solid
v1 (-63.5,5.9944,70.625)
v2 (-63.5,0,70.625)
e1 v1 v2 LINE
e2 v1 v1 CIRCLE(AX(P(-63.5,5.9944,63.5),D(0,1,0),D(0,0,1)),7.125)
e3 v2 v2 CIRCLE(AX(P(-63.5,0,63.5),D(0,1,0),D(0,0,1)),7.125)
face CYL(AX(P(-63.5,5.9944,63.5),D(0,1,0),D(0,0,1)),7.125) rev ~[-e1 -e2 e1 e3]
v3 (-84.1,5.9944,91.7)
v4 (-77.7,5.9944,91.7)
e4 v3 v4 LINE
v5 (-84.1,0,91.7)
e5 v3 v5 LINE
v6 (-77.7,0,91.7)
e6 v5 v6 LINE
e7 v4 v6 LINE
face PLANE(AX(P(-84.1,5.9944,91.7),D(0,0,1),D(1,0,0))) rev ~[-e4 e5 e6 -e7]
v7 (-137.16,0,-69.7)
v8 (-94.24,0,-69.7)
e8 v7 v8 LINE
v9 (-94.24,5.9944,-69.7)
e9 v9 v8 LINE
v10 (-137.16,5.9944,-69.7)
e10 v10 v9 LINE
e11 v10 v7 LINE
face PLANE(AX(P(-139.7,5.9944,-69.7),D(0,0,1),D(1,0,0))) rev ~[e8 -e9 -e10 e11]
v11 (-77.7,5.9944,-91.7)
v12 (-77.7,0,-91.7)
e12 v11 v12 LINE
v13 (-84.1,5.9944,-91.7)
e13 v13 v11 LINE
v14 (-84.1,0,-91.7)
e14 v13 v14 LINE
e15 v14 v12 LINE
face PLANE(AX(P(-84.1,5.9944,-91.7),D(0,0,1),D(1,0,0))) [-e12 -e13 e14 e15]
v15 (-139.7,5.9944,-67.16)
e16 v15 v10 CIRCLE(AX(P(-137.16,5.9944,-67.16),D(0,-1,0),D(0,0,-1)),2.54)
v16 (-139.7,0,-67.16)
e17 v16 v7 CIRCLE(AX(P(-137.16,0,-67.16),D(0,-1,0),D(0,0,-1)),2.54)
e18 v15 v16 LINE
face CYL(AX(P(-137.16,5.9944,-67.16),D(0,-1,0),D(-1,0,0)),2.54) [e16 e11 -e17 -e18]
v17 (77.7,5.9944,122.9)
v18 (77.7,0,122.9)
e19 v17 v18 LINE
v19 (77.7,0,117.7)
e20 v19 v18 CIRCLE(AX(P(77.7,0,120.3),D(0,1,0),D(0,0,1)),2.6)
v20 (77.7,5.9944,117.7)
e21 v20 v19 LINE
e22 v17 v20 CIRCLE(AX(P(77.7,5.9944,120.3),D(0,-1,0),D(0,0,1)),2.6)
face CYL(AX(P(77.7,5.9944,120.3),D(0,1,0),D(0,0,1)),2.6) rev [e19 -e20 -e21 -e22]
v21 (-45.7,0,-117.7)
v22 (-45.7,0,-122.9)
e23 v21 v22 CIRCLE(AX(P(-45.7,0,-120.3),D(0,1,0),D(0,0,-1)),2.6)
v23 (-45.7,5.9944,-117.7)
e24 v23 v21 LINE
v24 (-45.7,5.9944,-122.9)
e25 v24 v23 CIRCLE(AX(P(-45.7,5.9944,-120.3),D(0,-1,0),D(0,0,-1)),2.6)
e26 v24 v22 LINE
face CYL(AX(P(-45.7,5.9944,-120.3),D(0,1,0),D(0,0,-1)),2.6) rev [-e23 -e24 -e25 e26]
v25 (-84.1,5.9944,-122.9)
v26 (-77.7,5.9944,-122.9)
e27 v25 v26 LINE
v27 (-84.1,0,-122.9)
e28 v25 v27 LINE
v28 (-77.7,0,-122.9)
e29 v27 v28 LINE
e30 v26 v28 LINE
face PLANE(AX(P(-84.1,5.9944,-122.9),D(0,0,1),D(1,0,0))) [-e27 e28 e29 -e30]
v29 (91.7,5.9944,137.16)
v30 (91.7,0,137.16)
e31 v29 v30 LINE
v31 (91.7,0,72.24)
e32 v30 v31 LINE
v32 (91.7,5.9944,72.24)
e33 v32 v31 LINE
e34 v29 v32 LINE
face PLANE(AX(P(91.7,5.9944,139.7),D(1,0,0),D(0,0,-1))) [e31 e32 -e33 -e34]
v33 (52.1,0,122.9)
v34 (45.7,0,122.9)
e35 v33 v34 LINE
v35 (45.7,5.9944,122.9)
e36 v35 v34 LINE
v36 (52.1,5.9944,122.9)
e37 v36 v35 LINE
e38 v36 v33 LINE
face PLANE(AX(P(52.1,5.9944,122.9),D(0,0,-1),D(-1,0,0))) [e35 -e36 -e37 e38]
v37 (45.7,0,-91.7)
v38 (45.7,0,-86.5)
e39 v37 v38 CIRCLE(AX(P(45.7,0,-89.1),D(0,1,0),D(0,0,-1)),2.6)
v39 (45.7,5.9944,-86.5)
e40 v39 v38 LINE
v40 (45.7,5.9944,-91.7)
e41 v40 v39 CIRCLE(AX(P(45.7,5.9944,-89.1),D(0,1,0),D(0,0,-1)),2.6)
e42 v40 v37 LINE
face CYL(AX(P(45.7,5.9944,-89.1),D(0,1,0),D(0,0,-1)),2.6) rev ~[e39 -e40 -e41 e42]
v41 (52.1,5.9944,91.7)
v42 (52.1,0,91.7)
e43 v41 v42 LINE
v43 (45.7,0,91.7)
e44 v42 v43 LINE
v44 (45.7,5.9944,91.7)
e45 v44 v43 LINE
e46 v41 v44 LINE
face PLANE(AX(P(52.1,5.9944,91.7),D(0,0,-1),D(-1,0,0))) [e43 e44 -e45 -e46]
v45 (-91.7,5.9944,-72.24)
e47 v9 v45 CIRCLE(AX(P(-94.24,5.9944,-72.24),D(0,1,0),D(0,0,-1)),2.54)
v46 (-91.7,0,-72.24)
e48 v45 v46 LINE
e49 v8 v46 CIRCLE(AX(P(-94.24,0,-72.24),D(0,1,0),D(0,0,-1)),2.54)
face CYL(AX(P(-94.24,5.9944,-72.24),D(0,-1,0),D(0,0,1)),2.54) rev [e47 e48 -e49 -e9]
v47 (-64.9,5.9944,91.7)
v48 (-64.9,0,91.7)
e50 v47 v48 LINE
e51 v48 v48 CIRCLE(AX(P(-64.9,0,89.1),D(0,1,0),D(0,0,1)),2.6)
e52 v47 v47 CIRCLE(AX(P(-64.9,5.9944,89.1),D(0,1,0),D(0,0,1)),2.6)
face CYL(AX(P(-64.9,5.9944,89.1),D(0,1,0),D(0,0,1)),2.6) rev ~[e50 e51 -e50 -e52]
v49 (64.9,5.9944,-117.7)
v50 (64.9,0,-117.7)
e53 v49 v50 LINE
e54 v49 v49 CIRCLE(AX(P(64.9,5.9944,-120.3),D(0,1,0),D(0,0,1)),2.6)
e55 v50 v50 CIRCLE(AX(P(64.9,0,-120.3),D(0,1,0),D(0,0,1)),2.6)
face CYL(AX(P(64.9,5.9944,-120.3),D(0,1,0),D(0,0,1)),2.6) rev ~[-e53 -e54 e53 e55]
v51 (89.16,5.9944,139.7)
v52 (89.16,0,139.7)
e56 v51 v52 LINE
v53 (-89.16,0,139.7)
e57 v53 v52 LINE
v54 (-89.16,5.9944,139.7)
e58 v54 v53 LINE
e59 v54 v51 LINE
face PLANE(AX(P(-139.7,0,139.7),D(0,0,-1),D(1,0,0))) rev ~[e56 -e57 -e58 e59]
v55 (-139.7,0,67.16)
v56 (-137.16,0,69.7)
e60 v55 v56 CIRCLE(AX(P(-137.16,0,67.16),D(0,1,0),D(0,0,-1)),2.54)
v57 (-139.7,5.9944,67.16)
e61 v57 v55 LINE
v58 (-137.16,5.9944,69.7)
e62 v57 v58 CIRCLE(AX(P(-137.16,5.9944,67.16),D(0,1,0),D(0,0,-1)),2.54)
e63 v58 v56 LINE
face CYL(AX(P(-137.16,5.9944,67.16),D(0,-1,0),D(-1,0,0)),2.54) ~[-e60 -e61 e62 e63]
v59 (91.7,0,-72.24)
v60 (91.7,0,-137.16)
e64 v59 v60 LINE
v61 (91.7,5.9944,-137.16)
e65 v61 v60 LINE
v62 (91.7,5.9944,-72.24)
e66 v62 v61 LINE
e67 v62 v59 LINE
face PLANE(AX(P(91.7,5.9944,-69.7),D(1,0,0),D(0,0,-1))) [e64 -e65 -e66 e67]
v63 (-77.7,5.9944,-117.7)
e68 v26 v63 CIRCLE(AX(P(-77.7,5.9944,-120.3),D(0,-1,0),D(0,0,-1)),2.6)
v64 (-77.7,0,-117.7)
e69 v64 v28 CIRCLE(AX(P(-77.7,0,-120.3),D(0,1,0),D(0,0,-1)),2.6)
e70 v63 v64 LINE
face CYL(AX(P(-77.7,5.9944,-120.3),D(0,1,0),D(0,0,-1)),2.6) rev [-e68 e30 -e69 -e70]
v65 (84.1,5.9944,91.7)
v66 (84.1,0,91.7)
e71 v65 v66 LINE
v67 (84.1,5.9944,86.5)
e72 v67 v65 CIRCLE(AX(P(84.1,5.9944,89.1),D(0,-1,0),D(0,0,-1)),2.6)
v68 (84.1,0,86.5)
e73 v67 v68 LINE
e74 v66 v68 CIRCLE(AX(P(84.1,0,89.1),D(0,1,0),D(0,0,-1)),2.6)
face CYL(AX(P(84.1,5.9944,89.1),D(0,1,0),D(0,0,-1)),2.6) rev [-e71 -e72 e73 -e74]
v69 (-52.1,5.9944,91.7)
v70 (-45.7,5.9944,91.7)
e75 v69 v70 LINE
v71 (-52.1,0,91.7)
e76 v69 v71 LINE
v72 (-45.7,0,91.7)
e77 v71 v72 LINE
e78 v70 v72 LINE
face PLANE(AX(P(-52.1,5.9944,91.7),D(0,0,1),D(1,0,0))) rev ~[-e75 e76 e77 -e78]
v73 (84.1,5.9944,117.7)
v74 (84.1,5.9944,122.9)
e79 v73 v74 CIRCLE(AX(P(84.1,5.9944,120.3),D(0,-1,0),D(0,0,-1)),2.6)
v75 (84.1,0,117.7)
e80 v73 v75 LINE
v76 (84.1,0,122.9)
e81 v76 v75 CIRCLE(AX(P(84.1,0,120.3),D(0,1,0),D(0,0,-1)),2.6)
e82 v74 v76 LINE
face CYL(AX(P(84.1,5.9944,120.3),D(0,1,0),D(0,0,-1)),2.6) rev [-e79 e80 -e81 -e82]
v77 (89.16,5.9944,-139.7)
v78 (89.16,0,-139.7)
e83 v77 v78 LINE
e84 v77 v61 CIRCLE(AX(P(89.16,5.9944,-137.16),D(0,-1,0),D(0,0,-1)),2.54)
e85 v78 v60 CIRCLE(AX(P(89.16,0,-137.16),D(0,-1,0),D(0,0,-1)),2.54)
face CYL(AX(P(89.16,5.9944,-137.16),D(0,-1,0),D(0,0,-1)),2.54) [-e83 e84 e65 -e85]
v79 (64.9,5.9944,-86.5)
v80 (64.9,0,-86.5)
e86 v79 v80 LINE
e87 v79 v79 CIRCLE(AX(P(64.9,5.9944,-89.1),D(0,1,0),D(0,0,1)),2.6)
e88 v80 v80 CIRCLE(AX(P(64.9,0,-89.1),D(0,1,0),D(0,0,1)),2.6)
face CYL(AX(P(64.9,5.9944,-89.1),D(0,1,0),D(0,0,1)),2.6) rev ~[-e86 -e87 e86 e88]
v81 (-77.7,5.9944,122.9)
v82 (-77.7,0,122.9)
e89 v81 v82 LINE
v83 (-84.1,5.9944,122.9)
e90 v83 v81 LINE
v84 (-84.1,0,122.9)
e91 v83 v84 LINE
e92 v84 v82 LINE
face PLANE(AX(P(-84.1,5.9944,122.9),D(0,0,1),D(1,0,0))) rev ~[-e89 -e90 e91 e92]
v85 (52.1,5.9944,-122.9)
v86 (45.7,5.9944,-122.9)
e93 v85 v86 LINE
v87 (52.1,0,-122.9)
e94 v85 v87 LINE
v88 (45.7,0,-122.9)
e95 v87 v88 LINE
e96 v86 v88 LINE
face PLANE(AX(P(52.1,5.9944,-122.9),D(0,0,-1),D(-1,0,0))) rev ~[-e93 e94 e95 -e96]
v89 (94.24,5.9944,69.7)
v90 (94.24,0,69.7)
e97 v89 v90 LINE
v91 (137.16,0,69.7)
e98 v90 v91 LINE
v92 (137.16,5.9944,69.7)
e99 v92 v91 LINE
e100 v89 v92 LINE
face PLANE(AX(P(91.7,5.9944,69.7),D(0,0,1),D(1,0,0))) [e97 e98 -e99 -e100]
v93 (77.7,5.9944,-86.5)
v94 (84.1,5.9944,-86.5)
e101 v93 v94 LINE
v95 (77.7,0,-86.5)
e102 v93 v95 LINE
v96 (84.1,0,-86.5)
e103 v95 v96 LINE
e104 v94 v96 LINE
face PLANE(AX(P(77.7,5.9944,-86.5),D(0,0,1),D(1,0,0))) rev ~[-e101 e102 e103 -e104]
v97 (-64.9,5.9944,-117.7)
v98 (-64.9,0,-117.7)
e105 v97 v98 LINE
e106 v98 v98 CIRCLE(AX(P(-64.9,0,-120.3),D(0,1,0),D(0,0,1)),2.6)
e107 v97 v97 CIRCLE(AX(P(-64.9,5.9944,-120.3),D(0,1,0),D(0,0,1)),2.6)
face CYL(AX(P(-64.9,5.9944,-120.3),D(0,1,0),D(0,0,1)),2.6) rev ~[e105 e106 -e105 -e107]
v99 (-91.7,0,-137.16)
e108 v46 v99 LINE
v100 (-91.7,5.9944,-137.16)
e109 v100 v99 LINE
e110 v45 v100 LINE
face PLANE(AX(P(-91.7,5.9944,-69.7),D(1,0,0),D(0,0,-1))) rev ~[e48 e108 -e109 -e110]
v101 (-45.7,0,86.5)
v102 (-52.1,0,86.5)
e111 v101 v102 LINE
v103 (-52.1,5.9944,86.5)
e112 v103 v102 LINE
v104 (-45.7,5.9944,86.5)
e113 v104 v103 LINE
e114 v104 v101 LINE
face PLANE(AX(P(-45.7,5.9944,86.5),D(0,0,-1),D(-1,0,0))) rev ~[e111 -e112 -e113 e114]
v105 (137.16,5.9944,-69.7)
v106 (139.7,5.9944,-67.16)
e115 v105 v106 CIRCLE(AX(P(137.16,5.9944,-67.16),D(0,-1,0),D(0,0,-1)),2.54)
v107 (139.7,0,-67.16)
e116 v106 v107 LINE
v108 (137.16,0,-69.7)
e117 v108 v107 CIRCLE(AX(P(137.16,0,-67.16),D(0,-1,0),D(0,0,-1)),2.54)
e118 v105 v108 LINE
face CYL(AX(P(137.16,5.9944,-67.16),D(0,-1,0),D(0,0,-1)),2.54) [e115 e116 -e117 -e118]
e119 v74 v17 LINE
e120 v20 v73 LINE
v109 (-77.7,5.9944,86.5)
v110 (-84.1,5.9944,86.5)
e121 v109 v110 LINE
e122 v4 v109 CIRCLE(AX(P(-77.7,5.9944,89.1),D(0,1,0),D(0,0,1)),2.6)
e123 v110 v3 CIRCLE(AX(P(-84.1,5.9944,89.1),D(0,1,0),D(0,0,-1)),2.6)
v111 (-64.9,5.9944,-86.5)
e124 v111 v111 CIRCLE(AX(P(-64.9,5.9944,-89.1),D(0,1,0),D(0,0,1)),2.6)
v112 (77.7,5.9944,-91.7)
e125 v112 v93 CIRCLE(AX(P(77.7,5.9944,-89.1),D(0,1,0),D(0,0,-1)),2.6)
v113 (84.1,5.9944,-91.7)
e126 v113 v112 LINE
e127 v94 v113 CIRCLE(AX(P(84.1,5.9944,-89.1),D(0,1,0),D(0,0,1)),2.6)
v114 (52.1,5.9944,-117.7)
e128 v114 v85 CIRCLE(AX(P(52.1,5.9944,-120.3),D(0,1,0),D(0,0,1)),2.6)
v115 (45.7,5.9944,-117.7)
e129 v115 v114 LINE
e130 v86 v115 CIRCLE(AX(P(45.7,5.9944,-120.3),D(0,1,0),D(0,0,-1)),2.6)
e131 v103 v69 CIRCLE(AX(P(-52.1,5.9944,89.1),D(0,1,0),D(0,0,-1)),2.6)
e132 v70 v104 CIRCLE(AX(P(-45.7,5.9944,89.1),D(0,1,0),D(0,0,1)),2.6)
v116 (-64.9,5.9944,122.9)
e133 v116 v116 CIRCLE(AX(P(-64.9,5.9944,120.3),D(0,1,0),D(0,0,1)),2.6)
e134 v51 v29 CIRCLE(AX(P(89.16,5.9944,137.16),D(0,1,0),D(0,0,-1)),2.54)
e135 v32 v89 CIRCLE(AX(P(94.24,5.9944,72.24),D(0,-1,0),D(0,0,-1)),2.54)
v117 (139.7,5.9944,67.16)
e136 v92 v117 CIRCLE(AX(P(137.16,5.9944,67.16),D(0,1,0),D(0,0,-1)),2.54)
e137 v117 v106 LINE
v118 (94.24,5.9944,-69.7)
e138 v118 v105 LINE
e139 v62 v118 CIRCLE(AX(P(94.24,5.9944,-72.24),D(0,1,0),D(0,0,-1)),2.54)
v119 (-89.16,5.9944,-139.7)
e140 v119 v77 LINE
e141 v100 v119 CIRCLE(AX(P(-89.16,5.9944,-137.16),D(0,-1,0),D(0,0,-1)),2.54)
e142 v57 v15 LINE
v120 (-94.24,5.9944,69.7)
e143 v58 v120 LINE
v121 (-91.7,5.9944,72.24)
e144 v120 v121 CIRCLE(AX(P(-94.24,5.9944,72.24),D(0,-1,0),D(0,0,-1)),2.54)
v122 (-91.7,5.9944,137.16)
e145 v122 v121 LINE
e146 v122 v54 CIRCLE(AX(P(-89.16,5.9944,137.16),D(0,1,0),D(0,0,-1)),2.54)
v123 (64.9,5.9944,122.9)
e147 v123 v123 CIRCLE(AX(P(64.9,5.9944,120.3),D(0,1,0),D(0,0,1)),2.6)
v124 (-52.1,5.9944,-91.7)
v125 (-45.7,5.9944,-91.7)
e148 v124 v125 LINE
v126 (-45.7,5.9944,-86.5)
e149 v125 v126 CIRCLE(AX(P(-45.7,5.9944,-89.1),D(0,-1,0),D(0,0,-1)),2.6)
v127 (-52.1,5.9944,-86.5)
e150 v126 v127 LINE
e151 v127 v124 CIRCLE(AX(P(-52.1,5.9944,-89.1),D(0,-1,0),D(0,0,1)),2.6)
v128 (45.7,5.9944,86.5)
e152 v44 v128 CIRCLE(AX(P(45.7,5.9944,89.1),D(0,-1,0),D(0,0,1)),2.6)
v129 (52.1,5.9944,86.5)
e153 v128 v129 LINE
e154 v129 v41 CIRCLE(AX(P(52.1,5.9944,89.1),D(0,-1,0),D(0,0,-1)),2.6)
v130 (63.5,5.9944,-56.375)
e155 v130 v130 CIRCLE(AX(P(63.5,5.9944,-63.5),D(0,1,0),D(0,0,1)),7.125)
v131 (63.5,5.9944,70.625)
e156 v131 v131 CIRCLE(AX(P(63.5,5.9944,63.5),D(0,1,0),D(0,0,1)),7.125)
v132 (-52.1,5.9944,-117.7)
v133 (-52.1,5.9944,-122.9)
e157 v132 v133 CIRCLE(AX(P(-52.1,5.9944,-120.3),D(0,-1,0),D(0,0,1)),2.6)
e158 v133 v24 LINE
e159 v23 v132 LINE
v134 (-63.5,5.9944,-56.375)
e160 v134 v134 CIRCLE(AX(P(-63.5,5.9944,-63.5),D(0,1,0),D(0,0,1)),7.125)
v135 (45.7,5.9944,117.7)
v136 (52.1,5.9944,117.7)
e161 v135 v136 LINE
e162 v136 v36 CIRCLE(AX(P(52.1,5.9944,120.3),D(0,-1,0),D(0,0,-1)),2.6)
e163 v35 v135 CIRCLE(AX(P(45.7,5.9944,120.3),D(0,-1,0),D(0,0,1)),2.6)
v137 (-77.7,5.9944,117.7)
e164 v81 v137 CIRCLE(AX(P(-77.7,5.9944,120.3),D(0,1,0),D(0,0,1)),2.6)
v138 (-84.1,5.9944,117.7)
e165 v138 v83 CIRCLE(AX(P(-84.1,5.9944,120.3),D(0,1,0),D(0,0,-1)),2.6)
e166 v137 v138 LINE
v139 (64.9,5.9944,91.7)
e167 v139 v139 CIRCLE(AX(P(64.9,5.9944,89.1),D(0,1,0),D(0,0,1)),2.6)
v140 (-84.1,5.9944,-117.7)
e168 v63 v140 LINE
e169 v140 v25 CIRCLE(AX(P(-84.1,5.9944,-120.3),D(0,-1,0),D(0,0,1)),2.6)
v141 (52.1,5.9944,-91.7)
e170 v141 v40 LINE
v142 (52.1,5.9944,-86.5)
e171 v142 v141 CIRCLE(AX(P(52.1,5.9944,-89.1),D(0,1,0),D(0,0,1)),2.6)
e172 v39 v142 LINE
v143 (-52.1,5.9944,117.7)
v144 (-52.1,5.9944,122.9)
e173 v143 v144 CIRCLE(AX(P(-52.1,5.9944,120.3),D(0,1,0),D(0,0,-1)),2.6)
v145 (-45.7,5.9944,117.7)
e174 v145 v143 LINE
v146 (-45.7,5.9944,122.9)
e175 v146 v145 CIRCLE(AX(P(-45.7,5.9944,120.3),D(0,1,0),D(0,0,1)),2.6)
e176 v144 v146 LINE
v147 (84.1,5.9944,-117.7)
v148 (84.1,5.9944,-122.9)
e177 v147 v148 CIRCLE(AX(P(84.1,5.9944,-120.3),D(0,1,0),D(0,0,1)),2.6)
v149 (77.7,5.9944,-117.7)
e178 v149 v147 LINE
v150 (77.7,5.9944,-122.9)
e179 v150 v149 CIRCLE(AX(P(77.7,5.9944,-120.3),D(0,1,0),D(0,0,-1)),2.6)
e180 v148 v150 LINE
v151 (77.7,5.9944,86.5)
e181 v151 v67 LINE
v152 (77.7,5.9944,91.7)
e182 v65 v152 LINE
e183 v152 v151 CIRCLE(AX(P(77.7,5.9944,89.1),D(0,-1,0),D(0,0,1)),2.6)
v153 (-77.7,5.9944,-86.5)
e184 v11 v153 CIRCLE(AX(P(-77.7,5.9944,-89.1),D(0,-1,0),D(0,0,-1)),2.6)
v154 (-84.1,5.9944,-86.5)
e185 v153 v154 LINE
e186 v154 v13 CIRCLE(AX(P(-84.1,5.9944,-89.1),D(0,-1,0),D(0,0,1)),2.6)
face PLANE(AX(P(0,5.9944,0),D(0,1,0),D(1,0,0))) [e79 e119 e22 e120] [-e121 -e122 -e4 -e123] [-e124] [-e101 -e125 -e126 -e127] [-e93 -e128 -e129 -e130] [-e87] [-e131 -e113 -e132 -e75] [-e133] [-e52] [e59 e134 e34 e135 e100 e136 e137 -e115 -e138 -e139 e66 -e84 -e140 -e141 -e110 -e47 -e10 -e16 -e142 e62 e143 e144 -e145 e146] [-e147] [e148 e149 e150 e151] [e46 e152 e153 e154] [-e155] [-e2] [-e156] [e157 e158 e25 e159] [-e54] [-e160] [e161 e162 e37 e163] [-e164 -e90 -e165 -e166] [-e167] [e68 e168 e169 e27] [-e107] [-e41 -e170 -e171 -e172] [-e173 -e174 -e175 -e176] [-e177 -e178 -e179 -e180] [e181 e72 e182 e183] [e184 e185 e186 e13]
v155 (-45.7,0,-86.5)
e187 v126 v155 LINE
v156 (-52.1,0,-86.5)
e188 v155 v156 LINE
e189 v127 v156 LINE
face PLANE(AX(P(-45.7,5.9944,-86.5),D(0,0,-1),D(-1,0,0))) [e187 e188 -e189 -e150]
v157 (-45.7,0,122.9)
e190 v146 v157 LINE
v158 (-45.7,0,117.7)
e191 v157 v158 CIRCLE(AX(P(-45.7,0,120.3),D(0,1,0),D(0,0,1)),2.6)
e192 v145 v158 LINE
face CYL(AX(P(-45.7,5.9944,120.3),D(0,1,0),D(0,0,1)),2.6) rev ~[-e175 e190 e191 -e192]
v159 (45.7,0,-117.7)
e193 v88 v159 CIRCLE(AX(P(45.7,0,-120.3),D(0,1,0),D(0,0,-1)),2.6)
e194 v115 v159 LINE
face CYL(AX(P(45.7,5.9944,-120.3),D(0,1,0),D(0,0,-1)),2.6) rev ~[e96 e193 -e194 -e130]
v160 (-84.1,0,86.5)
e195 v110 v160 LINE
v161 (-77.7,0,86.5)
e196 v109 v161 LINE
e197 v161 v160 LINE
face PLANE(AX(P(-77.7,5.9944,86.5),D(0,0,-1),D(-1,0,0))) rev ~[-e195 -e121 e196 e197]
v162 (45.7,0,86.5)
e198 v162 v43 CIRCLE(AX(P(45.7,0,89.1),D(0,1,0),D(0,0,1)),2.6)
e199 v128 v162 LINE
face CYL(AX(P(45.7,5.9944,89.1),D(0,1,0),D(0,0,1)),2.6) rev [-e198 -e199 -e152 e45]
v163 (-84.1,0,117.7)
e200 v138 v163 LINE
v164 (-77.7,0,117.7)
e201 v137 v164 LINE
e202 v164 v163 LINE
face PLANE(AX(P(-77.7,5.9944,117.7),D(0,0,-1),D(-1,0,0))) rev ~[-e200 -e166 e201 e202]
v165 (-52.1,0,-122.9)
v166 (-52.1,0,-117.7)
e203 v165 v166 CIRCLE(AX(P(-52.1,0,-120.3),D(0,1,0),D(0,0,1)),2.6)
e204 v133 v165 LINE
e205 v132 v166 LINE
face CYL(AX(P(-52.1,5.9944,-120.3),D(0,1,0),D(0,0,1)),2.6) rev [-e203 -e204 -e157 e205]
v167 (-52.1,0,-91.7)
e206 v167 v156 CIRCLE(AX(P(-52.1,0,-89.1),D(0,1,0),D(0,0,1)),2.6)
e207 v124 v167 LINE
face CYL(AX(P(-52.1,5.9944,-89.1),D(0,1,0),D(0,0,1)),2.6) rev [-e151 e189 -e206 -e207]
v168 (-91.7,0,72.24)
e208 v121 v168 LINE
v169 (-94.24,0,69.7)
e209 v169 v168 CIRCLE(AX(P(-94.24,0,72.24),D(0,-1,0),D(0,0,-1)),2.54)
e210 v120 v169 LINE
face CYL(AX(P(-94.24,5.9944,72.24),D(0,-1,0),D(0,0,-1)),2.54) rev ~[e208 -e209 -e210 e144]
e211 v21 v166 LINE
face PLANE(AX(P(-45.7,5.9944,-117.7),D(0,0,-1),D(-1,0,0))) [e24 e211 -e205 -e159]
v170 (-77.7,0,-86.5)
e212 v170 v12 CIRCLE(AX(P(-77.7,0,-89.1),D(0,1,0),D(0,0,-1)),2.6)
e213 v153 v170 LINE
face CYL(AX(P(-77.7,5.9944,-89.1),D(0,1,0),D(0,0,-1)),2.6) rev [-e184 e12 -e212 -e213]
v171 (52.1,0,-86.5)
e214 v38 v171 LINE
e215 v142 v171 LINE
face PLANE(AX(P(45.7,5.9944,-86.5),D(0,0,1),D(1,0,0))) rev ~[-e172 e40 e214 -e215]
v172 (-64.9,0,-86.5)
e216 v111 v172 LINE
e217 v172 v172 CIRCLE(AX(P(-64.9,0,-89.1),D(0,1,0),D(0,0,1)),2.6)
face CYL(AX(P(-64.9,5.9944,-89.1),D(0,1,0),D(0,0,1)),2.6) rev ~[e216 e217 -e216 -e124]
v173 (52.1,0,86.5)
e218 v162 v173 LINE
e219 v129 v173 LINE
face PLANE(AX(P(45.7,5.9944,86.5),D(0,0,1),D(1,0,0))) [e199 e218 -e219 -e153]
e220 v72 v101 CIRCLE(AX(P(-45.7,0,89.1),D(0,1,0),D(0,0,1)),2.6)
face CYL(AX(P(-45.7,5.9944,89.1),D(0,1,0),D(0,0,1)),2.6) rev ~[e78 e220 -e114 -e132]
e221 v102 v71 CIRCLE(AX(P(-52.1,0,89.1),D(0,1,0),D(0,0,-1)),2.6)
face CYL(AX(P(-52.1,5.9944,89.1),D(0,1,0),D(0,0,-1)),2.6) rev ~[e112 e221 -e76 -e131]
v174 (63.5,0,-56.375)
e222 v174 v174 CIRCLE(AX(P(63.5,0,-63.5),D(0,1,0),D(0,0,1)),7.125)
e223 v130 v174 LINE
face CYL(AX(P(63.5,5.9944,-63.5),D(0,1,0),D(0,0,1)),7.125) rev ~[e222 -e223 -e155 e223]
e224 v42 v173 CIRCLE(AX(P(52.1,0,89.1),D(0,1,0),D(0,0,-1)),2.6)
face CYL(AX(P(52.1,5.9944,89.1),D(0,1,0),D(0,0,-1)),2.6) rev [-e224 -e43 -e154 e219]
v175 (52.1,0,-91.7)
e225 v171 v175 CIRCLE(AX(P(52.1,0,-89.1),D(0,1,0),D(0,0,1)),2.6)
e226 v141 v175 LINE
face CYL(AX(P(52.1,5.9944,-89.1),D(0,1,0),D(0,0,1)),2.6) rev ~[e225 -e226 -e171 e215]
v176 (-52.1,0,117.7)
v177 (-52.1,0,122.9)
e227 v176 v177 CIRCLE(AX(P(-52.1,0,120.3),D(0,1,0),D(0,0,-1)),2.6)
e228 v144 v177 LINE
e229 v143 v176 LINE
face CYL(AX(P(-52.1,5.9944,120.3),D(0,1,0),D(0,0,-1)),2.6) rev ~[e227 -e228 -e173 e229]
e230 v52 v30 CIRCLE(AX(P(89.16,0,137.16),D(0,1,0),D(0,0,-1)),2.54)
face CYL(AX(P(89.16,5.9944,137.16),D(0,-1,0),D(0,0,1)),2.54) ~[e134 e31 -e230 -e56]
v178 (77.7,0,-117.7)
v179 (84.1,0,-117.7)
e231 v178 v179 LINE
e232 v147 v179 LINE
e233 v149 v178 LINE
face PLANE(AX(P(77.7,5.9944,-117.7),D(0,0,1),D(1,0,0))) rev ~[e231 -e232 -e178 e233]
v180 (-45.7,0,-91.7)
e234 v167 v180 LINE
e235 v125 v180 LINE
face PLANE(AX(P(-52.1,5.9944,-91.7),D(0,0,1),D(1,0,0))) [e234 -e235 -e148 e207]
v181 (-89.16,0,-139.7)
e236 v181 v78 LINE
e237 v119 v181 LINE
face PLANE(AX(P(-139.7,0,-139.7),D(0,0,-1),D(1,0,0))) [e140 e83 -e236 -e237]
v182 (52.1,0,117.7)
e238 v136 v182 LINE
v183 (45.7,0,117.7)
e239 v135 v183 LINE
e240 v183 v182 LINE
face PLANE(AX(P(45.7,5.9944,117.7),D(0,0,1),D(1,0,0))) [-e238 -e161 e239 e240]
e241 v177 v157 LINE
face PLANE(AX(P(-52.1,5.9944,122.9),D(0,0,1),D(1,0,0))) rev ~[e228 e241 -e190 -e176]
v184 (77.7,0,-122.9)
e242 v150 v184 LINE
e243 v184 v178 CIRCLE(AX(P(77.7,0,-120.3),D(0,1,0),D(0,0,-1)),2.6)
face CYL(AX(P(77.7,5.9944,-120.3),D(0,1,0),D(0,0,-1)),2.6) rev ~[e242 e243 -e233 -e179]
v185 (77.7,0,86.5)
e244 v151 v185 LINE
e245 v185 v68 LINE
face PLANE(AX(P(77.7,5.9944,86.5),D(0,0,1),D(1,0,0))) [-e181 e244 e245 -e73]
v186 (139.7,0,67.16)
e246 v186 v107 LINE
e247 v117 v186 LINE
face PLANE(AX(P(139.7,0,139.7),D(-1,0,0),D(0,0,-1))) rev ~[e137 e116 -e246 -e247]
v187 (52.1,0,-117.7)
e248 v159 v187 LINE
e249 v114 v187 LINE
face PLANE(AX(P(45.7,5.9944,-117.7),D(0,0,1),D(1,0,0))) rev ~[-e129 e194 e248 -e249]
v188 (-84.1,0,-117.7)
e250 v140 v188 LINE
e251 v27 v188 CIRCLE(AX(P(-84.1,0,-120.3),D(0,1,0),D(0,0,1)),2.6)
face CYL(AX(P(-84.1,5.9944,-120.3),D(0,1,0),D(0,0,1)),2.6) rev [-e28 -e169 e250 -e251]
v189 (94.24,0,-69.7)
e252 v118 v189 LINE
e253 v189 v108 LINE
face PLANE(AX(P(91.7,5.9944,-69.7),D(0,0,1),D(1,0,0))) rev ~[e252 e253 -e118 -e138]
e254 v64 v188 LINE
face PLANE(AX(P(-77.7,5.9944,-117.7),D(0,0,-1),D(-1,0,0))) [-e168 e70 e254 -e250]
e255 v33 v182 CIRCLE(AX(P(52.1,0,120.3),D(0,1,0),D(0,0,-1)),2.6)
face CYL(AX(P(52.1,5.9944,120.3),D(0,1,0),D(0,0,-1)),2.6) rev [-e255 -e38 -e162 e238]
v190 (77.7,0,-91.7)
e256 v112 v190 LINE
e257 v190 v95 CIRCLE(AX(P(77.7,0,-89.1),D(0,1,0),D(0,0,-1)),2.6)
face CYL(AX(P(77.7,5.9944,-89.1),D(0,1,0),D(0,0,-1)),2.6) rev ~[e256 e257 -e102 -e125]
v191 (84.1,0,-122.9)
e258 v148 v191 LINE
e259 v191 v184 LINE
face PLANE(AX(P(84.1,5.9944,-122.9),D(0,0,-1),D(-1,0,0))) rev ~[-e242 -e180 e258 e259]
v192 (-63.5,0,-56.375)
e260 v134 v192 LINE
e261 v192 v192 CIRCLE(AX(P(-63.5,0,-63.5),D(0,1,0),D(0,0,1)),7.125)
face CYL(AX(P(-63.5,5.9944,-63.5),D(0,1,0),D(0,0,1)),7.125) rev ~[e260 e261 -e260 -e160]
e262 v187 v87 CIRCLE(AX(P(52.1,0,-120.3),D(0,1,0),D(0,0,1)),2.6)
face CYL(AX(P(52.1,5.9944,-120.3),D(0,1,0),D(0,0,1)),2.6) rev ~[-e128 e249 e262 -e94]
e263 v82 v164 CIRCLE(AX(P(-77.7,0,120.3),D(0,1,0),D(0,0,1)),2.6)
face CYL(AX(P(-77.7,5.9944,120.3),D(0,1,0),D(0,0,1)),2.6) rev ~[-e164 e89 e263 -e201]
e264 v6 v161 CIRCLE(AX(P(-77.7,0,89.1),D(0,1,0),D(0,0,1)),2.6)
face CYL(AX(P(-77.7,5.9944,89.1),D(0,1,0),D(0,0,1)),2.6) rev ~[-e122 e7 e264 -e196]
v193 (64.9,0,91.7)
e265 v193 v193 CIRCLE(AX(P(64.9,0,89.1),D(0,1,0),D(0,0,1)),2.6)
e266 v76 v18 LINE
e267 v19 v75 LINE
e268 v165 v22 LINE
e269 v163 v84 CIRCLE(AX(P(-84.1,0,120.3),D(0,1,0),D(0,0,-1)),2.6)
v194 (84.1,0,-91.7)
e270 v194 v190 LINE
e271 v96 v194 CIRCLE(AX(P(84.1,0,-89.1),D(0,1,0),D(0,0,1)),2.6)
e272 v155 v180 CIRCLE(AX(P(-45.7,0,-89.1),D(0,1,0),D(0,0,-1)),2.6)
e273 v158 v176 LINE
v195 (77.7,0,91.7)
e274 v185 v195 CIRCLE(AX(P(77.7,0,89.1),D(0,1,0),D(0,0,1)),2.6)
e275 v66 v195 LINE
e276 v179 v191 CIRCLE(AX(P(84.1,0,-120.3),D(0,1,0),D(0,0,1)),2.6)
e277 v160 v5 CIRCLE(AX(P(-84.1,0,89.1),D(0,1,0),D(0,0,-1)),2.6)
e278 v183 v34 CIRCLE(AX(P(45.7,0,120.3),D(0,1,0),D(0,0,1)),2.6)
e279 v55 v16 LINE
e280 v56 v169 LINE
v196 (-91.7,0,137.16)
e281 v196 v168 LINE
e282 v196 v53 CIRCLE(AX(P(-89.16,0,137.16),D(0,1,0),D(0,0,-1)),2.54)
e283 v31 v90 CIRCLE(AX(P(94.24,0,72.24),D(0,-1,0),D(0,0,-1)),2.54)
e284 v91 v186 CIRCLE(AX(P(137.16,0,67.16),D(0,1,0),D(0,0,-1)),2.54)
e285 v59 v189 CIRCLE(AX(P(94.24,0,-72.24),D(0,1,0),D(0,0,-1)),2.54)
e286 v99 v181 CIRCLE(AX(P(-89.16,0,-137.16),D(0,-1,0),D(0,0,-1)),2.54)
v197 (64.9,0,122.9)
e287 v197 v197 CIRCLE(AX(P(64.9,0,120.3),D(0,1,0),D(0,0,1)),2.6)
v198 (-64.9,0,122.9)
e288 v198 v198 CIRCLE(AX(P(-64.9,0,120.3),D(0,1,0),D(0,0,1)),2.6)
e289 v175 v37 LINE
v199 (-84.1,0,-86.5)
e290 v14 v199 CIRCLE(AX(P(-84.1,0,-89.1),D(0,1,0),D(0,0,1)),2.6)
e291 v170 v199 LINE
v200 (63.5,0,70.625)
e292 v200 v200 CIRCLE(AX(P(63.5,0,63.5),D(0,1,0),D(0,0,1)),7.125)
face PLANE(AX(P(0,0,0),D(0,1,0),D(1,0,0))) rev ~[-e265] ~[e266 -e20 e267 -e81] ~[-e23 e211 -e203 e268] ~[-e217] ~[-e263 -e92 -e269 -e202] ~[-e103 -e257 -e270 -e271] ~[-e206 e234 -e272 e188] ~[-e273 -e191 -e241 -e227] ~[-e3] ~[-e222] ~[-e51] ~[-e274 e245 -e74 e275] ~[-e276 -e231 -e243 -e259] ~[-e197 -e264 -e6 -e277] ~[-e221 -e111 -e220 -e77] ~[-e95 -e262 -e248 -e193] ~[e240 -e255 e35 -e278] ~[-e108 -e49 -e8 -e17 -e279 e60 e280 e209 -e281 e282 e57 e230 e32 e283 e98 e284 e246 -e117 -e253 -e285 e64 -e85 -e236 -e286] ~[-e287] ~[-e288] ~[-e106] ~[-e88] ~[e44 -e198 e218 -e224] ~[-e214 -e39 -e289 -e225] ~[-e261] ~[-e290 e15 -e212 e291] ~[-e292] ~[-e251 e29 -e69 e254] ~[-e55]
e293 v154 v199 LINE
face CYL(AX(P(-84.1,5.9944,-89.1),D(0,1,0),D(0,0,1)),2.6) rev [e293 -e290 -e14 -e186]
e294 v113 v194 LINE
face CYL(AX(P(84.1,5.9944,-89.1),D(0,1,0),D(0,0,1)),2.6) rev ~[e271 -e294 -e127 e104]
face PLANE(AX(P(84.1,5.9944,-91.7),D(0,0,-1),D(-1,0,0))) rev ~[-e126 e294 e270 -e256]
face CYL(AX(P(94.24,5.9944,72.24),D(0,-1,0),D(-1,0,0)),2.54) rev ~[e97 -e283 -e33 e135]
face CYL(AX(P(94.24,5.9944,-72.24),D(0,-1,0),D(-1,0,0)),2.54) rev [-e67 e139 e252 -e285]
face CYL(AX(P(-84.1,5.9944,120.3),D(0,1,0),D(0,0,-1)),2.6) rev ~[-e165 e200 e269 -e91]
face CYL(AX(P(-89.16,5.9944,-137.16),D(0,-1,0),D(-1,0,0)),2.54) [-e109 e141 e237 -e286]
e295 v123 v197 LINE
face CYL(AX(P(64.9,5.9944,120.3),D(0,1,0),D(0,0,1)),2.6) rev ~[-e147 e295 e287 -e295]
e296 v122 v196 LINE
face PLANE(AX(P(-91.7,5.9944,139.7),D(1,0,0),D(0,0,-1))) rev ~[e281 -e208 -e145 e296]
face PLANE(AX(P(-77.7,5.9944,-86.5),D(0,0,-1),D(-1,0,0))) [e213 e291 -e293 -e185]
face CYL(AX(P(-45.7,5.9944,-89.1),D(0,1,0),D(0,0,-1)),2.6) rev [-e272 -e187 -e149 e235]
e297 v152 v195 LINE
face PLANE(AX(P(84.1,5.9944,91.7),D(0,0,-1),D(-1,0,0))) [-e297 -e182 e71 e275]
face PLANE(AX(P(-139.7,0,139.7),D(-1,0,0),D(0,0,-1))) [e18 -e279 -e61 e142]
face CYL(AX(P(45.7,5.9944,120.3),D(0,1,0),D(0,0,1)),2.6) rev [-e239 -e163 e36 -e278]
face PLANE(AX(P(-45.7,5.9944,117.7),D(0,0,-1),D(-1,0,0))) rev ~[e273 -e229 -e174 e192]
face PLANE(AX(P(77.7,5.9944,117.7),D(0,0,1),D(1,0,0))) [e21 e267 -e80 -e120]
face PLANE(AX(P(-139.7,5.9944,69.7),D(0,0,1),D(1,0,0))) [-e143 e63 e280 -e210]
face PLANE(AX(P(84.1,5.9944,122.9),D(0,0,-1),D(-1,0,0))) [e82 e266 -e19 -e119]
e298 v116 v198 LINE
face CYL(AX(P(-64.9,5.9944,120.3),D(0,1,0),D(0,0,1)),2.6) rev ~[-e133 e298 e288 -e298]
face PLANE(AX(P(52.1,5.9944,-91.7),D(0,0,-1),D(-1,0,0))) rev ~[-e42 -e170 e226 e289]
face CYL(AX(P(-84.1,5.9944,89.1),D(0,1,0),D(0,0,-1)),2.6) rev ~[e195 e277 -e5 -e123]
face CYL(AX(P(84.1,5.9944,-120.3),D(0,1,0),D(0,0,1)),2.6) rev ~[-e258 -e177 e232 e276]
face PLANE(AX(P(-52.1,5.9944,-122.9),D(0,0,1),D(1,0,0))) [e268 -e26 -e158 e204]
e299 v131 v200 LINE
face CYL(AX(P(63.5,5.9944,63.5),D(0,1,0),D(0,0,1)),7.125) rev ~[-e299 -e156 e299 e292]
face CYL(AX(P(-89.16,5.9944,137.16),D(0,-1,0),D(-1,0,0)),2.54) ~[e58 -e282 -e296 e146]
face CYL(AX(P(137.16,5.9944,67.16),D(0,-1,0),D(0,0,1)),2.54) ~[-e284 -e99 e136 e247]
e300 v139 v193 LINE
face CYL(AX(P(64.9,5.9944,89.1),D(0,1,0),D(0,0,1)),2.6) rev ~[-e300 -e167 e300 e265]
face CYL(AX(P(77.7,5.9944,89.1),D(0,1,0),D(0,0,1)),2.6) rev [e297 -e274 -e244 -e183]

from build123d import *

# Parameters (mm, degrees)
SKETCH1_W           = 279.4
SKETCH1_H           = 279.4
BOSS_EXTRUDE1_DEPTH = 5.9944
SKETCH2_W           = 48
SKETCH2_H           = 70
CUT_EXTRUDE1_DEPTH  = 198.656552715
SKETCH3_R           = 2.6
CUT_EXTRUDE2_DEPTH  = 198.656552715
FILLET1_R           = 2.54
SKETCH4_R           = 7.125
CUT_EXTRUDE3_DEPTH  = 198.656552715


with BuildPart() as part:
    # Sketch1 → Boss-Extrude1 (new body)
    with BuildSketch(Plane(origin=(0, 0, 0), x_dir=(1, 0, 0), z_dir=(0, 1, 0))):
        Rectangle(SKETCH1_W, SKETCH1_H)
    extrude(amount=BOSS_EXTRUDE1_DEPTH)

    # Sketch2 → Cut-Extrude1 (cut, through all)
    with BuildSketch(Plane(origin=(0, 5.9944, 0), x_dir=(1, 0, 0), z_dir=(0, 1, 0))):
        with Locations((-115.7, 104.7)):
            Rectangle(SKETCH2_W, SKETCH2_H)
        with Locations((115.7, 104.7)):
            Rectangle(SKETCH2_W, SKETCH2_H)
        with Locations((-115.7, -104.7)):
            Rectangle(SKETCH2_W, SKETCH2_H)
        with Locations((115.7, -104.7)):
            Rectangle(SKETCH2_W, SKETCH2_H)
    extrude(amount=-CUT_EXTRUDE1_DEPTH, mode=Mode.SUBTRACT)

    # Sketch3 → Cut-Extrude2 (cut, through all)
    with BuildSketch(Plane(origin=(0, 5.9944, 0), x_dir=(1, 0, 0), z_dir=(0, 1, 0))):
        with Locations(Location((-64.9, 120.3, 0), (0, 0, 270))):
            Circle(SKETCH3_R)
        with Locations(Location((-64.9, 89.1, 0), (0, 0, 270))):
            Circle(SKETCH3_R)
        with Locations(Location((64.9, 89.1, 0), (0, 0, 270))):
            Circle(SKETCH3_R)
        with Locations(Location((64.9, 120.3, 0), (0, 0, 270))):
            Circle(SKETCH3_R)
        with Locations(Location((64.9, -120.3, 0), (0, 0, 270))):
            Circle(SKETCH3_R)
        with Locations(Location((64.9, -89.1, 0), (0, 0, 270))):
            Circle(SKETCH3_R)
        with Locations(Location((-64.9, -89.1, 0), (0, 0, 270))):
            Circle(SKETCH3_R)
        with Locations(Location((-64.9, -120.3, 0), (0, 0, 270))):
            Circle(SKETCH3_R)
        with BuildLine():
            Line((-84.1, 122.9), (-77.7, 122.9))
            ThreePointArc((-77.7, 122.9), (-75.1, 120.3), (-77.7, 117.7))
            Line((-77.7, 117.7), (-84.1, 117.7))
            ThreePointArc((-84.1, 117.7), (-86.7, 120.3), (-84.1, 122.9))
        make_face()
        with BuildLine():
            Line((-52.1, 122.9), (-45.7, 122.9))
            ThreePointArc((-45.7, 122.9), (-43.1, 120.3), (-45.7, 117.7))
            Line((-45.7, 117.7), (-52.1, 117.7))
            ThreePointArc((-52.1, 117.7), (-54.7, 120.3), (-52.1, 122.9))
        make_face()
        with BuildLine():
            Line((-84.1, 91.7), (-77.7, 91.7))
            ThreePointArc((-77.7, 91.7), (-75.1, 89.1), (-77.7, 86.5))
            Line((-77.7, 86.5), (-84.1, 86.5))
            ThreePointArc((-84.1, 86.5), (-86.7, 89.1), (-84.1, 91.7))
        make_face()
        with BuildLine():
            Line((-52.1, 91.7), (-45.7, 91.7))
            ThreePointArc((-45.7, 91.7), (-43.1, 89.1), (-45.7, 86.5))
            Line((-45.7, 86.5), (-52.1, 86.5))
            ThreePointArc((-52.1, 86.5), (-54.7, 89.1), (-52.1, 91.7))
        make_face()
        with BuildLine():
            Line((52.1, 91.7), (45.7, 91.7))
            ThreePointArc((45.7, 91.7), (43.1, 89.1), (45.7, 86.5))
            Line((45.7, 86.5), (52.1, 86.5))
            ThreePointArc((52.1, 86.5), (54.7, 89.1), (52.1, 91.7))
        make_face()
        with BuildLine():
            Line((84.1, 91.7), (77.7, 91.7))
            ThreePointArc((77.7, 91.7), (75.1, 89.1), (77.7, 86.5))
            Line((77.7, 86.5), (84.1, 86.5))
            ThreePointArc((84.1, 86.5), (86.7, 89.1), (84.1, 91.7))
        make_face()
        with BuildLine():
            Line((52.1, 122.9), (45.7, 122.9))
            ThreePointArc((45.7, 122.9), (43.1, 120.3), (45.7, 117.7))
            Line((45.7, 117.7), (52.1, 117.7))
            ThreePointArc((52.1, 117.7), (54.7, 120.3), (52.1, 122.9))
        make_face()
        with BuildLine():
            Line((84.1, 122.9), (77.7, 122.9))
            ThreePointArc((77.7, 122.9), (75.1, 120.3), (77.7, 117.7))
            Line((77.7, 117.7), (84.1, 117.7))
            ThreePointArc((84.1, 117.7), (86.7, 120.3), (84.1, 122.9))
        make_face()
        with BuildLine():
            Line((-84.1, -122.9), (-77.7, -122.9))
            ThreePointArc((-77.7, -122.9), (-75.1, -120.3), (-77.7, -117.7))
            Line((-77.7, -117.7), (-84.1, -117.7))
            ThreePointArc((-84.1, -117.7), (-86.7, -120.3), (-84.1, -122.9))
        make_face()
        with BuildLine():
            Line((-52.1, -122.9), (-45.7, -122.9))
            ThreePointArc((-45.7, -122.9), (-43.1, -120.3), (-45.7, -117.7))
            Line((-45.7, -117.7), (-52.1, -117.7))
            ThreePointArc((-52.1, -117.7), (-54.7, -120.3), (-52.1, -122.9))
        make_face()
        with BuildLine():
            Line((-84.1, -91.7), (-77.7, -91.7))
            ThreePointArc((-77.7, -91.7), (-75.1, -89.1), (-77.7, -86.5))
            Line((-77.7, -86.5), (-84.1, -86.5))
            ThreePointArc((-84.1, -86.5), (-86.7, -89.1), (-84.1, -91.7))
        make_face()
        with BuildLine():
            Line((-52.1, -91.7), (-45.7, -91.7))
            ThreePointArc((-45.7, -91.7), (-43.1, -89.1), (-45.7, -86.5))
            Line((-45.7, -86.5), (-52.1, -86.5))
            ThreePointArc((-52.1, -86.5), (-54.7, -89.1), (-52.1, -91.7))
        make_face()
        with BuildLine():
            Line((52.1, -91.7), (45.7, -91.7))
            ThreePointArc((45.7, -91.7), (43.1, -89.1), (45.7, -86.5))
            Line((45.7, -86.5), (52.1, -86.5))
            ThreePointArc((52.1, -86.5), (54.7, -89.1), (52.1, -91.7))
        make_face()
        with BuildLine():
            Line((84.1, -91.7), (77.7, -91.7))
            ThreePointArc((77.7, -91.7), (75.1, -89.1), (77.7, -86.5))
            Line((77.7, -86.5), (84.1, -86.5))
            ThreePointArc((84.1, -86.5), (86.7, -89.1), (84.1, -91.7))
        make_face()
        with BuildLine():
            Line((52.1, -122.9), (45.7, -122.9))
            ThreePointArc((45.7, -122.9), (43.1, -120.3), (45.7, -117.7))
            Line((45.7, -117.7), (52.1, -117.7))
            ThreePointArc((52.1, -117.7), (54.7, -120.3), (52.1, -122.9))
        make_face()
        with BuildLine():
            Line((84.1, -122.9), (77.7, -122.9))
            ThreePointArc((77.7, -122.9), (75.1, -120.3), (77.7, -117.7))
            Line((77.7, -117.7), (84.1, -117.7))
            ThreePointArc((84.1, -117.7), (86.7, -120.3), (84.1, -122.9))
        make_face()
    extrude(amount=-CUT_EXTRUDE2_DEPTH, mode=Mode.SUBTRACT)

    # Fillet1
    fillet1_edges = [part.edges().sort_by_distance(p)[0] for p in [
        (139.7, 2.9972, -69.7),
        (91.7, 2.9972, -69.7),
        (91.7, 2.9972, -139.7),
        (-139.7, 2.9972, 69.7),
        (-91.7, 2.9972, 69.7),
        (-91.7, 2.9972, 139.7),
        (139.7, 2.9972, 69.7),
        (91.7, 2.9972, 139.7),
        (91.7, 2.9972, 69.7),
        (-139.7, 2.9972, -69.7),
        (-91.7, 2.9972, -139.7),
        (-91.7, 2.9972, -69.7),
    ]]
    fillet(fillet1_edges, radius=FILLET1_R)

    # Sketch4 → Cut-Extrude3 (cut, through all)
    with BuildSketch(Plane(origin=(0, 5.9944, 0), x_dir=(1, 0, 0), z_dir=(0, 1, 0))):
        with Locations(Location((-63.5, 63.5, 0), (0, 0, 270))):
            Circle(SKETCH4_R)
        with Locations(Location((-63.5, -63.5, 0), (0, 0, 270))):
            Circle(SKETCH4_R)
        with Locations(Location((63.5, 63.5, 0), (0, 0, 270))):
            Circle(SKETCH4_R)
        with Locations(Location((63.5, -63.5, 0), (0, 0, 270))):
            Circle(SKETCH4_R)
    extrude(amount=-CUT_EXTRUDE3_DEPTH, mode=Mode.SUBTRACT)


solid = part.part
